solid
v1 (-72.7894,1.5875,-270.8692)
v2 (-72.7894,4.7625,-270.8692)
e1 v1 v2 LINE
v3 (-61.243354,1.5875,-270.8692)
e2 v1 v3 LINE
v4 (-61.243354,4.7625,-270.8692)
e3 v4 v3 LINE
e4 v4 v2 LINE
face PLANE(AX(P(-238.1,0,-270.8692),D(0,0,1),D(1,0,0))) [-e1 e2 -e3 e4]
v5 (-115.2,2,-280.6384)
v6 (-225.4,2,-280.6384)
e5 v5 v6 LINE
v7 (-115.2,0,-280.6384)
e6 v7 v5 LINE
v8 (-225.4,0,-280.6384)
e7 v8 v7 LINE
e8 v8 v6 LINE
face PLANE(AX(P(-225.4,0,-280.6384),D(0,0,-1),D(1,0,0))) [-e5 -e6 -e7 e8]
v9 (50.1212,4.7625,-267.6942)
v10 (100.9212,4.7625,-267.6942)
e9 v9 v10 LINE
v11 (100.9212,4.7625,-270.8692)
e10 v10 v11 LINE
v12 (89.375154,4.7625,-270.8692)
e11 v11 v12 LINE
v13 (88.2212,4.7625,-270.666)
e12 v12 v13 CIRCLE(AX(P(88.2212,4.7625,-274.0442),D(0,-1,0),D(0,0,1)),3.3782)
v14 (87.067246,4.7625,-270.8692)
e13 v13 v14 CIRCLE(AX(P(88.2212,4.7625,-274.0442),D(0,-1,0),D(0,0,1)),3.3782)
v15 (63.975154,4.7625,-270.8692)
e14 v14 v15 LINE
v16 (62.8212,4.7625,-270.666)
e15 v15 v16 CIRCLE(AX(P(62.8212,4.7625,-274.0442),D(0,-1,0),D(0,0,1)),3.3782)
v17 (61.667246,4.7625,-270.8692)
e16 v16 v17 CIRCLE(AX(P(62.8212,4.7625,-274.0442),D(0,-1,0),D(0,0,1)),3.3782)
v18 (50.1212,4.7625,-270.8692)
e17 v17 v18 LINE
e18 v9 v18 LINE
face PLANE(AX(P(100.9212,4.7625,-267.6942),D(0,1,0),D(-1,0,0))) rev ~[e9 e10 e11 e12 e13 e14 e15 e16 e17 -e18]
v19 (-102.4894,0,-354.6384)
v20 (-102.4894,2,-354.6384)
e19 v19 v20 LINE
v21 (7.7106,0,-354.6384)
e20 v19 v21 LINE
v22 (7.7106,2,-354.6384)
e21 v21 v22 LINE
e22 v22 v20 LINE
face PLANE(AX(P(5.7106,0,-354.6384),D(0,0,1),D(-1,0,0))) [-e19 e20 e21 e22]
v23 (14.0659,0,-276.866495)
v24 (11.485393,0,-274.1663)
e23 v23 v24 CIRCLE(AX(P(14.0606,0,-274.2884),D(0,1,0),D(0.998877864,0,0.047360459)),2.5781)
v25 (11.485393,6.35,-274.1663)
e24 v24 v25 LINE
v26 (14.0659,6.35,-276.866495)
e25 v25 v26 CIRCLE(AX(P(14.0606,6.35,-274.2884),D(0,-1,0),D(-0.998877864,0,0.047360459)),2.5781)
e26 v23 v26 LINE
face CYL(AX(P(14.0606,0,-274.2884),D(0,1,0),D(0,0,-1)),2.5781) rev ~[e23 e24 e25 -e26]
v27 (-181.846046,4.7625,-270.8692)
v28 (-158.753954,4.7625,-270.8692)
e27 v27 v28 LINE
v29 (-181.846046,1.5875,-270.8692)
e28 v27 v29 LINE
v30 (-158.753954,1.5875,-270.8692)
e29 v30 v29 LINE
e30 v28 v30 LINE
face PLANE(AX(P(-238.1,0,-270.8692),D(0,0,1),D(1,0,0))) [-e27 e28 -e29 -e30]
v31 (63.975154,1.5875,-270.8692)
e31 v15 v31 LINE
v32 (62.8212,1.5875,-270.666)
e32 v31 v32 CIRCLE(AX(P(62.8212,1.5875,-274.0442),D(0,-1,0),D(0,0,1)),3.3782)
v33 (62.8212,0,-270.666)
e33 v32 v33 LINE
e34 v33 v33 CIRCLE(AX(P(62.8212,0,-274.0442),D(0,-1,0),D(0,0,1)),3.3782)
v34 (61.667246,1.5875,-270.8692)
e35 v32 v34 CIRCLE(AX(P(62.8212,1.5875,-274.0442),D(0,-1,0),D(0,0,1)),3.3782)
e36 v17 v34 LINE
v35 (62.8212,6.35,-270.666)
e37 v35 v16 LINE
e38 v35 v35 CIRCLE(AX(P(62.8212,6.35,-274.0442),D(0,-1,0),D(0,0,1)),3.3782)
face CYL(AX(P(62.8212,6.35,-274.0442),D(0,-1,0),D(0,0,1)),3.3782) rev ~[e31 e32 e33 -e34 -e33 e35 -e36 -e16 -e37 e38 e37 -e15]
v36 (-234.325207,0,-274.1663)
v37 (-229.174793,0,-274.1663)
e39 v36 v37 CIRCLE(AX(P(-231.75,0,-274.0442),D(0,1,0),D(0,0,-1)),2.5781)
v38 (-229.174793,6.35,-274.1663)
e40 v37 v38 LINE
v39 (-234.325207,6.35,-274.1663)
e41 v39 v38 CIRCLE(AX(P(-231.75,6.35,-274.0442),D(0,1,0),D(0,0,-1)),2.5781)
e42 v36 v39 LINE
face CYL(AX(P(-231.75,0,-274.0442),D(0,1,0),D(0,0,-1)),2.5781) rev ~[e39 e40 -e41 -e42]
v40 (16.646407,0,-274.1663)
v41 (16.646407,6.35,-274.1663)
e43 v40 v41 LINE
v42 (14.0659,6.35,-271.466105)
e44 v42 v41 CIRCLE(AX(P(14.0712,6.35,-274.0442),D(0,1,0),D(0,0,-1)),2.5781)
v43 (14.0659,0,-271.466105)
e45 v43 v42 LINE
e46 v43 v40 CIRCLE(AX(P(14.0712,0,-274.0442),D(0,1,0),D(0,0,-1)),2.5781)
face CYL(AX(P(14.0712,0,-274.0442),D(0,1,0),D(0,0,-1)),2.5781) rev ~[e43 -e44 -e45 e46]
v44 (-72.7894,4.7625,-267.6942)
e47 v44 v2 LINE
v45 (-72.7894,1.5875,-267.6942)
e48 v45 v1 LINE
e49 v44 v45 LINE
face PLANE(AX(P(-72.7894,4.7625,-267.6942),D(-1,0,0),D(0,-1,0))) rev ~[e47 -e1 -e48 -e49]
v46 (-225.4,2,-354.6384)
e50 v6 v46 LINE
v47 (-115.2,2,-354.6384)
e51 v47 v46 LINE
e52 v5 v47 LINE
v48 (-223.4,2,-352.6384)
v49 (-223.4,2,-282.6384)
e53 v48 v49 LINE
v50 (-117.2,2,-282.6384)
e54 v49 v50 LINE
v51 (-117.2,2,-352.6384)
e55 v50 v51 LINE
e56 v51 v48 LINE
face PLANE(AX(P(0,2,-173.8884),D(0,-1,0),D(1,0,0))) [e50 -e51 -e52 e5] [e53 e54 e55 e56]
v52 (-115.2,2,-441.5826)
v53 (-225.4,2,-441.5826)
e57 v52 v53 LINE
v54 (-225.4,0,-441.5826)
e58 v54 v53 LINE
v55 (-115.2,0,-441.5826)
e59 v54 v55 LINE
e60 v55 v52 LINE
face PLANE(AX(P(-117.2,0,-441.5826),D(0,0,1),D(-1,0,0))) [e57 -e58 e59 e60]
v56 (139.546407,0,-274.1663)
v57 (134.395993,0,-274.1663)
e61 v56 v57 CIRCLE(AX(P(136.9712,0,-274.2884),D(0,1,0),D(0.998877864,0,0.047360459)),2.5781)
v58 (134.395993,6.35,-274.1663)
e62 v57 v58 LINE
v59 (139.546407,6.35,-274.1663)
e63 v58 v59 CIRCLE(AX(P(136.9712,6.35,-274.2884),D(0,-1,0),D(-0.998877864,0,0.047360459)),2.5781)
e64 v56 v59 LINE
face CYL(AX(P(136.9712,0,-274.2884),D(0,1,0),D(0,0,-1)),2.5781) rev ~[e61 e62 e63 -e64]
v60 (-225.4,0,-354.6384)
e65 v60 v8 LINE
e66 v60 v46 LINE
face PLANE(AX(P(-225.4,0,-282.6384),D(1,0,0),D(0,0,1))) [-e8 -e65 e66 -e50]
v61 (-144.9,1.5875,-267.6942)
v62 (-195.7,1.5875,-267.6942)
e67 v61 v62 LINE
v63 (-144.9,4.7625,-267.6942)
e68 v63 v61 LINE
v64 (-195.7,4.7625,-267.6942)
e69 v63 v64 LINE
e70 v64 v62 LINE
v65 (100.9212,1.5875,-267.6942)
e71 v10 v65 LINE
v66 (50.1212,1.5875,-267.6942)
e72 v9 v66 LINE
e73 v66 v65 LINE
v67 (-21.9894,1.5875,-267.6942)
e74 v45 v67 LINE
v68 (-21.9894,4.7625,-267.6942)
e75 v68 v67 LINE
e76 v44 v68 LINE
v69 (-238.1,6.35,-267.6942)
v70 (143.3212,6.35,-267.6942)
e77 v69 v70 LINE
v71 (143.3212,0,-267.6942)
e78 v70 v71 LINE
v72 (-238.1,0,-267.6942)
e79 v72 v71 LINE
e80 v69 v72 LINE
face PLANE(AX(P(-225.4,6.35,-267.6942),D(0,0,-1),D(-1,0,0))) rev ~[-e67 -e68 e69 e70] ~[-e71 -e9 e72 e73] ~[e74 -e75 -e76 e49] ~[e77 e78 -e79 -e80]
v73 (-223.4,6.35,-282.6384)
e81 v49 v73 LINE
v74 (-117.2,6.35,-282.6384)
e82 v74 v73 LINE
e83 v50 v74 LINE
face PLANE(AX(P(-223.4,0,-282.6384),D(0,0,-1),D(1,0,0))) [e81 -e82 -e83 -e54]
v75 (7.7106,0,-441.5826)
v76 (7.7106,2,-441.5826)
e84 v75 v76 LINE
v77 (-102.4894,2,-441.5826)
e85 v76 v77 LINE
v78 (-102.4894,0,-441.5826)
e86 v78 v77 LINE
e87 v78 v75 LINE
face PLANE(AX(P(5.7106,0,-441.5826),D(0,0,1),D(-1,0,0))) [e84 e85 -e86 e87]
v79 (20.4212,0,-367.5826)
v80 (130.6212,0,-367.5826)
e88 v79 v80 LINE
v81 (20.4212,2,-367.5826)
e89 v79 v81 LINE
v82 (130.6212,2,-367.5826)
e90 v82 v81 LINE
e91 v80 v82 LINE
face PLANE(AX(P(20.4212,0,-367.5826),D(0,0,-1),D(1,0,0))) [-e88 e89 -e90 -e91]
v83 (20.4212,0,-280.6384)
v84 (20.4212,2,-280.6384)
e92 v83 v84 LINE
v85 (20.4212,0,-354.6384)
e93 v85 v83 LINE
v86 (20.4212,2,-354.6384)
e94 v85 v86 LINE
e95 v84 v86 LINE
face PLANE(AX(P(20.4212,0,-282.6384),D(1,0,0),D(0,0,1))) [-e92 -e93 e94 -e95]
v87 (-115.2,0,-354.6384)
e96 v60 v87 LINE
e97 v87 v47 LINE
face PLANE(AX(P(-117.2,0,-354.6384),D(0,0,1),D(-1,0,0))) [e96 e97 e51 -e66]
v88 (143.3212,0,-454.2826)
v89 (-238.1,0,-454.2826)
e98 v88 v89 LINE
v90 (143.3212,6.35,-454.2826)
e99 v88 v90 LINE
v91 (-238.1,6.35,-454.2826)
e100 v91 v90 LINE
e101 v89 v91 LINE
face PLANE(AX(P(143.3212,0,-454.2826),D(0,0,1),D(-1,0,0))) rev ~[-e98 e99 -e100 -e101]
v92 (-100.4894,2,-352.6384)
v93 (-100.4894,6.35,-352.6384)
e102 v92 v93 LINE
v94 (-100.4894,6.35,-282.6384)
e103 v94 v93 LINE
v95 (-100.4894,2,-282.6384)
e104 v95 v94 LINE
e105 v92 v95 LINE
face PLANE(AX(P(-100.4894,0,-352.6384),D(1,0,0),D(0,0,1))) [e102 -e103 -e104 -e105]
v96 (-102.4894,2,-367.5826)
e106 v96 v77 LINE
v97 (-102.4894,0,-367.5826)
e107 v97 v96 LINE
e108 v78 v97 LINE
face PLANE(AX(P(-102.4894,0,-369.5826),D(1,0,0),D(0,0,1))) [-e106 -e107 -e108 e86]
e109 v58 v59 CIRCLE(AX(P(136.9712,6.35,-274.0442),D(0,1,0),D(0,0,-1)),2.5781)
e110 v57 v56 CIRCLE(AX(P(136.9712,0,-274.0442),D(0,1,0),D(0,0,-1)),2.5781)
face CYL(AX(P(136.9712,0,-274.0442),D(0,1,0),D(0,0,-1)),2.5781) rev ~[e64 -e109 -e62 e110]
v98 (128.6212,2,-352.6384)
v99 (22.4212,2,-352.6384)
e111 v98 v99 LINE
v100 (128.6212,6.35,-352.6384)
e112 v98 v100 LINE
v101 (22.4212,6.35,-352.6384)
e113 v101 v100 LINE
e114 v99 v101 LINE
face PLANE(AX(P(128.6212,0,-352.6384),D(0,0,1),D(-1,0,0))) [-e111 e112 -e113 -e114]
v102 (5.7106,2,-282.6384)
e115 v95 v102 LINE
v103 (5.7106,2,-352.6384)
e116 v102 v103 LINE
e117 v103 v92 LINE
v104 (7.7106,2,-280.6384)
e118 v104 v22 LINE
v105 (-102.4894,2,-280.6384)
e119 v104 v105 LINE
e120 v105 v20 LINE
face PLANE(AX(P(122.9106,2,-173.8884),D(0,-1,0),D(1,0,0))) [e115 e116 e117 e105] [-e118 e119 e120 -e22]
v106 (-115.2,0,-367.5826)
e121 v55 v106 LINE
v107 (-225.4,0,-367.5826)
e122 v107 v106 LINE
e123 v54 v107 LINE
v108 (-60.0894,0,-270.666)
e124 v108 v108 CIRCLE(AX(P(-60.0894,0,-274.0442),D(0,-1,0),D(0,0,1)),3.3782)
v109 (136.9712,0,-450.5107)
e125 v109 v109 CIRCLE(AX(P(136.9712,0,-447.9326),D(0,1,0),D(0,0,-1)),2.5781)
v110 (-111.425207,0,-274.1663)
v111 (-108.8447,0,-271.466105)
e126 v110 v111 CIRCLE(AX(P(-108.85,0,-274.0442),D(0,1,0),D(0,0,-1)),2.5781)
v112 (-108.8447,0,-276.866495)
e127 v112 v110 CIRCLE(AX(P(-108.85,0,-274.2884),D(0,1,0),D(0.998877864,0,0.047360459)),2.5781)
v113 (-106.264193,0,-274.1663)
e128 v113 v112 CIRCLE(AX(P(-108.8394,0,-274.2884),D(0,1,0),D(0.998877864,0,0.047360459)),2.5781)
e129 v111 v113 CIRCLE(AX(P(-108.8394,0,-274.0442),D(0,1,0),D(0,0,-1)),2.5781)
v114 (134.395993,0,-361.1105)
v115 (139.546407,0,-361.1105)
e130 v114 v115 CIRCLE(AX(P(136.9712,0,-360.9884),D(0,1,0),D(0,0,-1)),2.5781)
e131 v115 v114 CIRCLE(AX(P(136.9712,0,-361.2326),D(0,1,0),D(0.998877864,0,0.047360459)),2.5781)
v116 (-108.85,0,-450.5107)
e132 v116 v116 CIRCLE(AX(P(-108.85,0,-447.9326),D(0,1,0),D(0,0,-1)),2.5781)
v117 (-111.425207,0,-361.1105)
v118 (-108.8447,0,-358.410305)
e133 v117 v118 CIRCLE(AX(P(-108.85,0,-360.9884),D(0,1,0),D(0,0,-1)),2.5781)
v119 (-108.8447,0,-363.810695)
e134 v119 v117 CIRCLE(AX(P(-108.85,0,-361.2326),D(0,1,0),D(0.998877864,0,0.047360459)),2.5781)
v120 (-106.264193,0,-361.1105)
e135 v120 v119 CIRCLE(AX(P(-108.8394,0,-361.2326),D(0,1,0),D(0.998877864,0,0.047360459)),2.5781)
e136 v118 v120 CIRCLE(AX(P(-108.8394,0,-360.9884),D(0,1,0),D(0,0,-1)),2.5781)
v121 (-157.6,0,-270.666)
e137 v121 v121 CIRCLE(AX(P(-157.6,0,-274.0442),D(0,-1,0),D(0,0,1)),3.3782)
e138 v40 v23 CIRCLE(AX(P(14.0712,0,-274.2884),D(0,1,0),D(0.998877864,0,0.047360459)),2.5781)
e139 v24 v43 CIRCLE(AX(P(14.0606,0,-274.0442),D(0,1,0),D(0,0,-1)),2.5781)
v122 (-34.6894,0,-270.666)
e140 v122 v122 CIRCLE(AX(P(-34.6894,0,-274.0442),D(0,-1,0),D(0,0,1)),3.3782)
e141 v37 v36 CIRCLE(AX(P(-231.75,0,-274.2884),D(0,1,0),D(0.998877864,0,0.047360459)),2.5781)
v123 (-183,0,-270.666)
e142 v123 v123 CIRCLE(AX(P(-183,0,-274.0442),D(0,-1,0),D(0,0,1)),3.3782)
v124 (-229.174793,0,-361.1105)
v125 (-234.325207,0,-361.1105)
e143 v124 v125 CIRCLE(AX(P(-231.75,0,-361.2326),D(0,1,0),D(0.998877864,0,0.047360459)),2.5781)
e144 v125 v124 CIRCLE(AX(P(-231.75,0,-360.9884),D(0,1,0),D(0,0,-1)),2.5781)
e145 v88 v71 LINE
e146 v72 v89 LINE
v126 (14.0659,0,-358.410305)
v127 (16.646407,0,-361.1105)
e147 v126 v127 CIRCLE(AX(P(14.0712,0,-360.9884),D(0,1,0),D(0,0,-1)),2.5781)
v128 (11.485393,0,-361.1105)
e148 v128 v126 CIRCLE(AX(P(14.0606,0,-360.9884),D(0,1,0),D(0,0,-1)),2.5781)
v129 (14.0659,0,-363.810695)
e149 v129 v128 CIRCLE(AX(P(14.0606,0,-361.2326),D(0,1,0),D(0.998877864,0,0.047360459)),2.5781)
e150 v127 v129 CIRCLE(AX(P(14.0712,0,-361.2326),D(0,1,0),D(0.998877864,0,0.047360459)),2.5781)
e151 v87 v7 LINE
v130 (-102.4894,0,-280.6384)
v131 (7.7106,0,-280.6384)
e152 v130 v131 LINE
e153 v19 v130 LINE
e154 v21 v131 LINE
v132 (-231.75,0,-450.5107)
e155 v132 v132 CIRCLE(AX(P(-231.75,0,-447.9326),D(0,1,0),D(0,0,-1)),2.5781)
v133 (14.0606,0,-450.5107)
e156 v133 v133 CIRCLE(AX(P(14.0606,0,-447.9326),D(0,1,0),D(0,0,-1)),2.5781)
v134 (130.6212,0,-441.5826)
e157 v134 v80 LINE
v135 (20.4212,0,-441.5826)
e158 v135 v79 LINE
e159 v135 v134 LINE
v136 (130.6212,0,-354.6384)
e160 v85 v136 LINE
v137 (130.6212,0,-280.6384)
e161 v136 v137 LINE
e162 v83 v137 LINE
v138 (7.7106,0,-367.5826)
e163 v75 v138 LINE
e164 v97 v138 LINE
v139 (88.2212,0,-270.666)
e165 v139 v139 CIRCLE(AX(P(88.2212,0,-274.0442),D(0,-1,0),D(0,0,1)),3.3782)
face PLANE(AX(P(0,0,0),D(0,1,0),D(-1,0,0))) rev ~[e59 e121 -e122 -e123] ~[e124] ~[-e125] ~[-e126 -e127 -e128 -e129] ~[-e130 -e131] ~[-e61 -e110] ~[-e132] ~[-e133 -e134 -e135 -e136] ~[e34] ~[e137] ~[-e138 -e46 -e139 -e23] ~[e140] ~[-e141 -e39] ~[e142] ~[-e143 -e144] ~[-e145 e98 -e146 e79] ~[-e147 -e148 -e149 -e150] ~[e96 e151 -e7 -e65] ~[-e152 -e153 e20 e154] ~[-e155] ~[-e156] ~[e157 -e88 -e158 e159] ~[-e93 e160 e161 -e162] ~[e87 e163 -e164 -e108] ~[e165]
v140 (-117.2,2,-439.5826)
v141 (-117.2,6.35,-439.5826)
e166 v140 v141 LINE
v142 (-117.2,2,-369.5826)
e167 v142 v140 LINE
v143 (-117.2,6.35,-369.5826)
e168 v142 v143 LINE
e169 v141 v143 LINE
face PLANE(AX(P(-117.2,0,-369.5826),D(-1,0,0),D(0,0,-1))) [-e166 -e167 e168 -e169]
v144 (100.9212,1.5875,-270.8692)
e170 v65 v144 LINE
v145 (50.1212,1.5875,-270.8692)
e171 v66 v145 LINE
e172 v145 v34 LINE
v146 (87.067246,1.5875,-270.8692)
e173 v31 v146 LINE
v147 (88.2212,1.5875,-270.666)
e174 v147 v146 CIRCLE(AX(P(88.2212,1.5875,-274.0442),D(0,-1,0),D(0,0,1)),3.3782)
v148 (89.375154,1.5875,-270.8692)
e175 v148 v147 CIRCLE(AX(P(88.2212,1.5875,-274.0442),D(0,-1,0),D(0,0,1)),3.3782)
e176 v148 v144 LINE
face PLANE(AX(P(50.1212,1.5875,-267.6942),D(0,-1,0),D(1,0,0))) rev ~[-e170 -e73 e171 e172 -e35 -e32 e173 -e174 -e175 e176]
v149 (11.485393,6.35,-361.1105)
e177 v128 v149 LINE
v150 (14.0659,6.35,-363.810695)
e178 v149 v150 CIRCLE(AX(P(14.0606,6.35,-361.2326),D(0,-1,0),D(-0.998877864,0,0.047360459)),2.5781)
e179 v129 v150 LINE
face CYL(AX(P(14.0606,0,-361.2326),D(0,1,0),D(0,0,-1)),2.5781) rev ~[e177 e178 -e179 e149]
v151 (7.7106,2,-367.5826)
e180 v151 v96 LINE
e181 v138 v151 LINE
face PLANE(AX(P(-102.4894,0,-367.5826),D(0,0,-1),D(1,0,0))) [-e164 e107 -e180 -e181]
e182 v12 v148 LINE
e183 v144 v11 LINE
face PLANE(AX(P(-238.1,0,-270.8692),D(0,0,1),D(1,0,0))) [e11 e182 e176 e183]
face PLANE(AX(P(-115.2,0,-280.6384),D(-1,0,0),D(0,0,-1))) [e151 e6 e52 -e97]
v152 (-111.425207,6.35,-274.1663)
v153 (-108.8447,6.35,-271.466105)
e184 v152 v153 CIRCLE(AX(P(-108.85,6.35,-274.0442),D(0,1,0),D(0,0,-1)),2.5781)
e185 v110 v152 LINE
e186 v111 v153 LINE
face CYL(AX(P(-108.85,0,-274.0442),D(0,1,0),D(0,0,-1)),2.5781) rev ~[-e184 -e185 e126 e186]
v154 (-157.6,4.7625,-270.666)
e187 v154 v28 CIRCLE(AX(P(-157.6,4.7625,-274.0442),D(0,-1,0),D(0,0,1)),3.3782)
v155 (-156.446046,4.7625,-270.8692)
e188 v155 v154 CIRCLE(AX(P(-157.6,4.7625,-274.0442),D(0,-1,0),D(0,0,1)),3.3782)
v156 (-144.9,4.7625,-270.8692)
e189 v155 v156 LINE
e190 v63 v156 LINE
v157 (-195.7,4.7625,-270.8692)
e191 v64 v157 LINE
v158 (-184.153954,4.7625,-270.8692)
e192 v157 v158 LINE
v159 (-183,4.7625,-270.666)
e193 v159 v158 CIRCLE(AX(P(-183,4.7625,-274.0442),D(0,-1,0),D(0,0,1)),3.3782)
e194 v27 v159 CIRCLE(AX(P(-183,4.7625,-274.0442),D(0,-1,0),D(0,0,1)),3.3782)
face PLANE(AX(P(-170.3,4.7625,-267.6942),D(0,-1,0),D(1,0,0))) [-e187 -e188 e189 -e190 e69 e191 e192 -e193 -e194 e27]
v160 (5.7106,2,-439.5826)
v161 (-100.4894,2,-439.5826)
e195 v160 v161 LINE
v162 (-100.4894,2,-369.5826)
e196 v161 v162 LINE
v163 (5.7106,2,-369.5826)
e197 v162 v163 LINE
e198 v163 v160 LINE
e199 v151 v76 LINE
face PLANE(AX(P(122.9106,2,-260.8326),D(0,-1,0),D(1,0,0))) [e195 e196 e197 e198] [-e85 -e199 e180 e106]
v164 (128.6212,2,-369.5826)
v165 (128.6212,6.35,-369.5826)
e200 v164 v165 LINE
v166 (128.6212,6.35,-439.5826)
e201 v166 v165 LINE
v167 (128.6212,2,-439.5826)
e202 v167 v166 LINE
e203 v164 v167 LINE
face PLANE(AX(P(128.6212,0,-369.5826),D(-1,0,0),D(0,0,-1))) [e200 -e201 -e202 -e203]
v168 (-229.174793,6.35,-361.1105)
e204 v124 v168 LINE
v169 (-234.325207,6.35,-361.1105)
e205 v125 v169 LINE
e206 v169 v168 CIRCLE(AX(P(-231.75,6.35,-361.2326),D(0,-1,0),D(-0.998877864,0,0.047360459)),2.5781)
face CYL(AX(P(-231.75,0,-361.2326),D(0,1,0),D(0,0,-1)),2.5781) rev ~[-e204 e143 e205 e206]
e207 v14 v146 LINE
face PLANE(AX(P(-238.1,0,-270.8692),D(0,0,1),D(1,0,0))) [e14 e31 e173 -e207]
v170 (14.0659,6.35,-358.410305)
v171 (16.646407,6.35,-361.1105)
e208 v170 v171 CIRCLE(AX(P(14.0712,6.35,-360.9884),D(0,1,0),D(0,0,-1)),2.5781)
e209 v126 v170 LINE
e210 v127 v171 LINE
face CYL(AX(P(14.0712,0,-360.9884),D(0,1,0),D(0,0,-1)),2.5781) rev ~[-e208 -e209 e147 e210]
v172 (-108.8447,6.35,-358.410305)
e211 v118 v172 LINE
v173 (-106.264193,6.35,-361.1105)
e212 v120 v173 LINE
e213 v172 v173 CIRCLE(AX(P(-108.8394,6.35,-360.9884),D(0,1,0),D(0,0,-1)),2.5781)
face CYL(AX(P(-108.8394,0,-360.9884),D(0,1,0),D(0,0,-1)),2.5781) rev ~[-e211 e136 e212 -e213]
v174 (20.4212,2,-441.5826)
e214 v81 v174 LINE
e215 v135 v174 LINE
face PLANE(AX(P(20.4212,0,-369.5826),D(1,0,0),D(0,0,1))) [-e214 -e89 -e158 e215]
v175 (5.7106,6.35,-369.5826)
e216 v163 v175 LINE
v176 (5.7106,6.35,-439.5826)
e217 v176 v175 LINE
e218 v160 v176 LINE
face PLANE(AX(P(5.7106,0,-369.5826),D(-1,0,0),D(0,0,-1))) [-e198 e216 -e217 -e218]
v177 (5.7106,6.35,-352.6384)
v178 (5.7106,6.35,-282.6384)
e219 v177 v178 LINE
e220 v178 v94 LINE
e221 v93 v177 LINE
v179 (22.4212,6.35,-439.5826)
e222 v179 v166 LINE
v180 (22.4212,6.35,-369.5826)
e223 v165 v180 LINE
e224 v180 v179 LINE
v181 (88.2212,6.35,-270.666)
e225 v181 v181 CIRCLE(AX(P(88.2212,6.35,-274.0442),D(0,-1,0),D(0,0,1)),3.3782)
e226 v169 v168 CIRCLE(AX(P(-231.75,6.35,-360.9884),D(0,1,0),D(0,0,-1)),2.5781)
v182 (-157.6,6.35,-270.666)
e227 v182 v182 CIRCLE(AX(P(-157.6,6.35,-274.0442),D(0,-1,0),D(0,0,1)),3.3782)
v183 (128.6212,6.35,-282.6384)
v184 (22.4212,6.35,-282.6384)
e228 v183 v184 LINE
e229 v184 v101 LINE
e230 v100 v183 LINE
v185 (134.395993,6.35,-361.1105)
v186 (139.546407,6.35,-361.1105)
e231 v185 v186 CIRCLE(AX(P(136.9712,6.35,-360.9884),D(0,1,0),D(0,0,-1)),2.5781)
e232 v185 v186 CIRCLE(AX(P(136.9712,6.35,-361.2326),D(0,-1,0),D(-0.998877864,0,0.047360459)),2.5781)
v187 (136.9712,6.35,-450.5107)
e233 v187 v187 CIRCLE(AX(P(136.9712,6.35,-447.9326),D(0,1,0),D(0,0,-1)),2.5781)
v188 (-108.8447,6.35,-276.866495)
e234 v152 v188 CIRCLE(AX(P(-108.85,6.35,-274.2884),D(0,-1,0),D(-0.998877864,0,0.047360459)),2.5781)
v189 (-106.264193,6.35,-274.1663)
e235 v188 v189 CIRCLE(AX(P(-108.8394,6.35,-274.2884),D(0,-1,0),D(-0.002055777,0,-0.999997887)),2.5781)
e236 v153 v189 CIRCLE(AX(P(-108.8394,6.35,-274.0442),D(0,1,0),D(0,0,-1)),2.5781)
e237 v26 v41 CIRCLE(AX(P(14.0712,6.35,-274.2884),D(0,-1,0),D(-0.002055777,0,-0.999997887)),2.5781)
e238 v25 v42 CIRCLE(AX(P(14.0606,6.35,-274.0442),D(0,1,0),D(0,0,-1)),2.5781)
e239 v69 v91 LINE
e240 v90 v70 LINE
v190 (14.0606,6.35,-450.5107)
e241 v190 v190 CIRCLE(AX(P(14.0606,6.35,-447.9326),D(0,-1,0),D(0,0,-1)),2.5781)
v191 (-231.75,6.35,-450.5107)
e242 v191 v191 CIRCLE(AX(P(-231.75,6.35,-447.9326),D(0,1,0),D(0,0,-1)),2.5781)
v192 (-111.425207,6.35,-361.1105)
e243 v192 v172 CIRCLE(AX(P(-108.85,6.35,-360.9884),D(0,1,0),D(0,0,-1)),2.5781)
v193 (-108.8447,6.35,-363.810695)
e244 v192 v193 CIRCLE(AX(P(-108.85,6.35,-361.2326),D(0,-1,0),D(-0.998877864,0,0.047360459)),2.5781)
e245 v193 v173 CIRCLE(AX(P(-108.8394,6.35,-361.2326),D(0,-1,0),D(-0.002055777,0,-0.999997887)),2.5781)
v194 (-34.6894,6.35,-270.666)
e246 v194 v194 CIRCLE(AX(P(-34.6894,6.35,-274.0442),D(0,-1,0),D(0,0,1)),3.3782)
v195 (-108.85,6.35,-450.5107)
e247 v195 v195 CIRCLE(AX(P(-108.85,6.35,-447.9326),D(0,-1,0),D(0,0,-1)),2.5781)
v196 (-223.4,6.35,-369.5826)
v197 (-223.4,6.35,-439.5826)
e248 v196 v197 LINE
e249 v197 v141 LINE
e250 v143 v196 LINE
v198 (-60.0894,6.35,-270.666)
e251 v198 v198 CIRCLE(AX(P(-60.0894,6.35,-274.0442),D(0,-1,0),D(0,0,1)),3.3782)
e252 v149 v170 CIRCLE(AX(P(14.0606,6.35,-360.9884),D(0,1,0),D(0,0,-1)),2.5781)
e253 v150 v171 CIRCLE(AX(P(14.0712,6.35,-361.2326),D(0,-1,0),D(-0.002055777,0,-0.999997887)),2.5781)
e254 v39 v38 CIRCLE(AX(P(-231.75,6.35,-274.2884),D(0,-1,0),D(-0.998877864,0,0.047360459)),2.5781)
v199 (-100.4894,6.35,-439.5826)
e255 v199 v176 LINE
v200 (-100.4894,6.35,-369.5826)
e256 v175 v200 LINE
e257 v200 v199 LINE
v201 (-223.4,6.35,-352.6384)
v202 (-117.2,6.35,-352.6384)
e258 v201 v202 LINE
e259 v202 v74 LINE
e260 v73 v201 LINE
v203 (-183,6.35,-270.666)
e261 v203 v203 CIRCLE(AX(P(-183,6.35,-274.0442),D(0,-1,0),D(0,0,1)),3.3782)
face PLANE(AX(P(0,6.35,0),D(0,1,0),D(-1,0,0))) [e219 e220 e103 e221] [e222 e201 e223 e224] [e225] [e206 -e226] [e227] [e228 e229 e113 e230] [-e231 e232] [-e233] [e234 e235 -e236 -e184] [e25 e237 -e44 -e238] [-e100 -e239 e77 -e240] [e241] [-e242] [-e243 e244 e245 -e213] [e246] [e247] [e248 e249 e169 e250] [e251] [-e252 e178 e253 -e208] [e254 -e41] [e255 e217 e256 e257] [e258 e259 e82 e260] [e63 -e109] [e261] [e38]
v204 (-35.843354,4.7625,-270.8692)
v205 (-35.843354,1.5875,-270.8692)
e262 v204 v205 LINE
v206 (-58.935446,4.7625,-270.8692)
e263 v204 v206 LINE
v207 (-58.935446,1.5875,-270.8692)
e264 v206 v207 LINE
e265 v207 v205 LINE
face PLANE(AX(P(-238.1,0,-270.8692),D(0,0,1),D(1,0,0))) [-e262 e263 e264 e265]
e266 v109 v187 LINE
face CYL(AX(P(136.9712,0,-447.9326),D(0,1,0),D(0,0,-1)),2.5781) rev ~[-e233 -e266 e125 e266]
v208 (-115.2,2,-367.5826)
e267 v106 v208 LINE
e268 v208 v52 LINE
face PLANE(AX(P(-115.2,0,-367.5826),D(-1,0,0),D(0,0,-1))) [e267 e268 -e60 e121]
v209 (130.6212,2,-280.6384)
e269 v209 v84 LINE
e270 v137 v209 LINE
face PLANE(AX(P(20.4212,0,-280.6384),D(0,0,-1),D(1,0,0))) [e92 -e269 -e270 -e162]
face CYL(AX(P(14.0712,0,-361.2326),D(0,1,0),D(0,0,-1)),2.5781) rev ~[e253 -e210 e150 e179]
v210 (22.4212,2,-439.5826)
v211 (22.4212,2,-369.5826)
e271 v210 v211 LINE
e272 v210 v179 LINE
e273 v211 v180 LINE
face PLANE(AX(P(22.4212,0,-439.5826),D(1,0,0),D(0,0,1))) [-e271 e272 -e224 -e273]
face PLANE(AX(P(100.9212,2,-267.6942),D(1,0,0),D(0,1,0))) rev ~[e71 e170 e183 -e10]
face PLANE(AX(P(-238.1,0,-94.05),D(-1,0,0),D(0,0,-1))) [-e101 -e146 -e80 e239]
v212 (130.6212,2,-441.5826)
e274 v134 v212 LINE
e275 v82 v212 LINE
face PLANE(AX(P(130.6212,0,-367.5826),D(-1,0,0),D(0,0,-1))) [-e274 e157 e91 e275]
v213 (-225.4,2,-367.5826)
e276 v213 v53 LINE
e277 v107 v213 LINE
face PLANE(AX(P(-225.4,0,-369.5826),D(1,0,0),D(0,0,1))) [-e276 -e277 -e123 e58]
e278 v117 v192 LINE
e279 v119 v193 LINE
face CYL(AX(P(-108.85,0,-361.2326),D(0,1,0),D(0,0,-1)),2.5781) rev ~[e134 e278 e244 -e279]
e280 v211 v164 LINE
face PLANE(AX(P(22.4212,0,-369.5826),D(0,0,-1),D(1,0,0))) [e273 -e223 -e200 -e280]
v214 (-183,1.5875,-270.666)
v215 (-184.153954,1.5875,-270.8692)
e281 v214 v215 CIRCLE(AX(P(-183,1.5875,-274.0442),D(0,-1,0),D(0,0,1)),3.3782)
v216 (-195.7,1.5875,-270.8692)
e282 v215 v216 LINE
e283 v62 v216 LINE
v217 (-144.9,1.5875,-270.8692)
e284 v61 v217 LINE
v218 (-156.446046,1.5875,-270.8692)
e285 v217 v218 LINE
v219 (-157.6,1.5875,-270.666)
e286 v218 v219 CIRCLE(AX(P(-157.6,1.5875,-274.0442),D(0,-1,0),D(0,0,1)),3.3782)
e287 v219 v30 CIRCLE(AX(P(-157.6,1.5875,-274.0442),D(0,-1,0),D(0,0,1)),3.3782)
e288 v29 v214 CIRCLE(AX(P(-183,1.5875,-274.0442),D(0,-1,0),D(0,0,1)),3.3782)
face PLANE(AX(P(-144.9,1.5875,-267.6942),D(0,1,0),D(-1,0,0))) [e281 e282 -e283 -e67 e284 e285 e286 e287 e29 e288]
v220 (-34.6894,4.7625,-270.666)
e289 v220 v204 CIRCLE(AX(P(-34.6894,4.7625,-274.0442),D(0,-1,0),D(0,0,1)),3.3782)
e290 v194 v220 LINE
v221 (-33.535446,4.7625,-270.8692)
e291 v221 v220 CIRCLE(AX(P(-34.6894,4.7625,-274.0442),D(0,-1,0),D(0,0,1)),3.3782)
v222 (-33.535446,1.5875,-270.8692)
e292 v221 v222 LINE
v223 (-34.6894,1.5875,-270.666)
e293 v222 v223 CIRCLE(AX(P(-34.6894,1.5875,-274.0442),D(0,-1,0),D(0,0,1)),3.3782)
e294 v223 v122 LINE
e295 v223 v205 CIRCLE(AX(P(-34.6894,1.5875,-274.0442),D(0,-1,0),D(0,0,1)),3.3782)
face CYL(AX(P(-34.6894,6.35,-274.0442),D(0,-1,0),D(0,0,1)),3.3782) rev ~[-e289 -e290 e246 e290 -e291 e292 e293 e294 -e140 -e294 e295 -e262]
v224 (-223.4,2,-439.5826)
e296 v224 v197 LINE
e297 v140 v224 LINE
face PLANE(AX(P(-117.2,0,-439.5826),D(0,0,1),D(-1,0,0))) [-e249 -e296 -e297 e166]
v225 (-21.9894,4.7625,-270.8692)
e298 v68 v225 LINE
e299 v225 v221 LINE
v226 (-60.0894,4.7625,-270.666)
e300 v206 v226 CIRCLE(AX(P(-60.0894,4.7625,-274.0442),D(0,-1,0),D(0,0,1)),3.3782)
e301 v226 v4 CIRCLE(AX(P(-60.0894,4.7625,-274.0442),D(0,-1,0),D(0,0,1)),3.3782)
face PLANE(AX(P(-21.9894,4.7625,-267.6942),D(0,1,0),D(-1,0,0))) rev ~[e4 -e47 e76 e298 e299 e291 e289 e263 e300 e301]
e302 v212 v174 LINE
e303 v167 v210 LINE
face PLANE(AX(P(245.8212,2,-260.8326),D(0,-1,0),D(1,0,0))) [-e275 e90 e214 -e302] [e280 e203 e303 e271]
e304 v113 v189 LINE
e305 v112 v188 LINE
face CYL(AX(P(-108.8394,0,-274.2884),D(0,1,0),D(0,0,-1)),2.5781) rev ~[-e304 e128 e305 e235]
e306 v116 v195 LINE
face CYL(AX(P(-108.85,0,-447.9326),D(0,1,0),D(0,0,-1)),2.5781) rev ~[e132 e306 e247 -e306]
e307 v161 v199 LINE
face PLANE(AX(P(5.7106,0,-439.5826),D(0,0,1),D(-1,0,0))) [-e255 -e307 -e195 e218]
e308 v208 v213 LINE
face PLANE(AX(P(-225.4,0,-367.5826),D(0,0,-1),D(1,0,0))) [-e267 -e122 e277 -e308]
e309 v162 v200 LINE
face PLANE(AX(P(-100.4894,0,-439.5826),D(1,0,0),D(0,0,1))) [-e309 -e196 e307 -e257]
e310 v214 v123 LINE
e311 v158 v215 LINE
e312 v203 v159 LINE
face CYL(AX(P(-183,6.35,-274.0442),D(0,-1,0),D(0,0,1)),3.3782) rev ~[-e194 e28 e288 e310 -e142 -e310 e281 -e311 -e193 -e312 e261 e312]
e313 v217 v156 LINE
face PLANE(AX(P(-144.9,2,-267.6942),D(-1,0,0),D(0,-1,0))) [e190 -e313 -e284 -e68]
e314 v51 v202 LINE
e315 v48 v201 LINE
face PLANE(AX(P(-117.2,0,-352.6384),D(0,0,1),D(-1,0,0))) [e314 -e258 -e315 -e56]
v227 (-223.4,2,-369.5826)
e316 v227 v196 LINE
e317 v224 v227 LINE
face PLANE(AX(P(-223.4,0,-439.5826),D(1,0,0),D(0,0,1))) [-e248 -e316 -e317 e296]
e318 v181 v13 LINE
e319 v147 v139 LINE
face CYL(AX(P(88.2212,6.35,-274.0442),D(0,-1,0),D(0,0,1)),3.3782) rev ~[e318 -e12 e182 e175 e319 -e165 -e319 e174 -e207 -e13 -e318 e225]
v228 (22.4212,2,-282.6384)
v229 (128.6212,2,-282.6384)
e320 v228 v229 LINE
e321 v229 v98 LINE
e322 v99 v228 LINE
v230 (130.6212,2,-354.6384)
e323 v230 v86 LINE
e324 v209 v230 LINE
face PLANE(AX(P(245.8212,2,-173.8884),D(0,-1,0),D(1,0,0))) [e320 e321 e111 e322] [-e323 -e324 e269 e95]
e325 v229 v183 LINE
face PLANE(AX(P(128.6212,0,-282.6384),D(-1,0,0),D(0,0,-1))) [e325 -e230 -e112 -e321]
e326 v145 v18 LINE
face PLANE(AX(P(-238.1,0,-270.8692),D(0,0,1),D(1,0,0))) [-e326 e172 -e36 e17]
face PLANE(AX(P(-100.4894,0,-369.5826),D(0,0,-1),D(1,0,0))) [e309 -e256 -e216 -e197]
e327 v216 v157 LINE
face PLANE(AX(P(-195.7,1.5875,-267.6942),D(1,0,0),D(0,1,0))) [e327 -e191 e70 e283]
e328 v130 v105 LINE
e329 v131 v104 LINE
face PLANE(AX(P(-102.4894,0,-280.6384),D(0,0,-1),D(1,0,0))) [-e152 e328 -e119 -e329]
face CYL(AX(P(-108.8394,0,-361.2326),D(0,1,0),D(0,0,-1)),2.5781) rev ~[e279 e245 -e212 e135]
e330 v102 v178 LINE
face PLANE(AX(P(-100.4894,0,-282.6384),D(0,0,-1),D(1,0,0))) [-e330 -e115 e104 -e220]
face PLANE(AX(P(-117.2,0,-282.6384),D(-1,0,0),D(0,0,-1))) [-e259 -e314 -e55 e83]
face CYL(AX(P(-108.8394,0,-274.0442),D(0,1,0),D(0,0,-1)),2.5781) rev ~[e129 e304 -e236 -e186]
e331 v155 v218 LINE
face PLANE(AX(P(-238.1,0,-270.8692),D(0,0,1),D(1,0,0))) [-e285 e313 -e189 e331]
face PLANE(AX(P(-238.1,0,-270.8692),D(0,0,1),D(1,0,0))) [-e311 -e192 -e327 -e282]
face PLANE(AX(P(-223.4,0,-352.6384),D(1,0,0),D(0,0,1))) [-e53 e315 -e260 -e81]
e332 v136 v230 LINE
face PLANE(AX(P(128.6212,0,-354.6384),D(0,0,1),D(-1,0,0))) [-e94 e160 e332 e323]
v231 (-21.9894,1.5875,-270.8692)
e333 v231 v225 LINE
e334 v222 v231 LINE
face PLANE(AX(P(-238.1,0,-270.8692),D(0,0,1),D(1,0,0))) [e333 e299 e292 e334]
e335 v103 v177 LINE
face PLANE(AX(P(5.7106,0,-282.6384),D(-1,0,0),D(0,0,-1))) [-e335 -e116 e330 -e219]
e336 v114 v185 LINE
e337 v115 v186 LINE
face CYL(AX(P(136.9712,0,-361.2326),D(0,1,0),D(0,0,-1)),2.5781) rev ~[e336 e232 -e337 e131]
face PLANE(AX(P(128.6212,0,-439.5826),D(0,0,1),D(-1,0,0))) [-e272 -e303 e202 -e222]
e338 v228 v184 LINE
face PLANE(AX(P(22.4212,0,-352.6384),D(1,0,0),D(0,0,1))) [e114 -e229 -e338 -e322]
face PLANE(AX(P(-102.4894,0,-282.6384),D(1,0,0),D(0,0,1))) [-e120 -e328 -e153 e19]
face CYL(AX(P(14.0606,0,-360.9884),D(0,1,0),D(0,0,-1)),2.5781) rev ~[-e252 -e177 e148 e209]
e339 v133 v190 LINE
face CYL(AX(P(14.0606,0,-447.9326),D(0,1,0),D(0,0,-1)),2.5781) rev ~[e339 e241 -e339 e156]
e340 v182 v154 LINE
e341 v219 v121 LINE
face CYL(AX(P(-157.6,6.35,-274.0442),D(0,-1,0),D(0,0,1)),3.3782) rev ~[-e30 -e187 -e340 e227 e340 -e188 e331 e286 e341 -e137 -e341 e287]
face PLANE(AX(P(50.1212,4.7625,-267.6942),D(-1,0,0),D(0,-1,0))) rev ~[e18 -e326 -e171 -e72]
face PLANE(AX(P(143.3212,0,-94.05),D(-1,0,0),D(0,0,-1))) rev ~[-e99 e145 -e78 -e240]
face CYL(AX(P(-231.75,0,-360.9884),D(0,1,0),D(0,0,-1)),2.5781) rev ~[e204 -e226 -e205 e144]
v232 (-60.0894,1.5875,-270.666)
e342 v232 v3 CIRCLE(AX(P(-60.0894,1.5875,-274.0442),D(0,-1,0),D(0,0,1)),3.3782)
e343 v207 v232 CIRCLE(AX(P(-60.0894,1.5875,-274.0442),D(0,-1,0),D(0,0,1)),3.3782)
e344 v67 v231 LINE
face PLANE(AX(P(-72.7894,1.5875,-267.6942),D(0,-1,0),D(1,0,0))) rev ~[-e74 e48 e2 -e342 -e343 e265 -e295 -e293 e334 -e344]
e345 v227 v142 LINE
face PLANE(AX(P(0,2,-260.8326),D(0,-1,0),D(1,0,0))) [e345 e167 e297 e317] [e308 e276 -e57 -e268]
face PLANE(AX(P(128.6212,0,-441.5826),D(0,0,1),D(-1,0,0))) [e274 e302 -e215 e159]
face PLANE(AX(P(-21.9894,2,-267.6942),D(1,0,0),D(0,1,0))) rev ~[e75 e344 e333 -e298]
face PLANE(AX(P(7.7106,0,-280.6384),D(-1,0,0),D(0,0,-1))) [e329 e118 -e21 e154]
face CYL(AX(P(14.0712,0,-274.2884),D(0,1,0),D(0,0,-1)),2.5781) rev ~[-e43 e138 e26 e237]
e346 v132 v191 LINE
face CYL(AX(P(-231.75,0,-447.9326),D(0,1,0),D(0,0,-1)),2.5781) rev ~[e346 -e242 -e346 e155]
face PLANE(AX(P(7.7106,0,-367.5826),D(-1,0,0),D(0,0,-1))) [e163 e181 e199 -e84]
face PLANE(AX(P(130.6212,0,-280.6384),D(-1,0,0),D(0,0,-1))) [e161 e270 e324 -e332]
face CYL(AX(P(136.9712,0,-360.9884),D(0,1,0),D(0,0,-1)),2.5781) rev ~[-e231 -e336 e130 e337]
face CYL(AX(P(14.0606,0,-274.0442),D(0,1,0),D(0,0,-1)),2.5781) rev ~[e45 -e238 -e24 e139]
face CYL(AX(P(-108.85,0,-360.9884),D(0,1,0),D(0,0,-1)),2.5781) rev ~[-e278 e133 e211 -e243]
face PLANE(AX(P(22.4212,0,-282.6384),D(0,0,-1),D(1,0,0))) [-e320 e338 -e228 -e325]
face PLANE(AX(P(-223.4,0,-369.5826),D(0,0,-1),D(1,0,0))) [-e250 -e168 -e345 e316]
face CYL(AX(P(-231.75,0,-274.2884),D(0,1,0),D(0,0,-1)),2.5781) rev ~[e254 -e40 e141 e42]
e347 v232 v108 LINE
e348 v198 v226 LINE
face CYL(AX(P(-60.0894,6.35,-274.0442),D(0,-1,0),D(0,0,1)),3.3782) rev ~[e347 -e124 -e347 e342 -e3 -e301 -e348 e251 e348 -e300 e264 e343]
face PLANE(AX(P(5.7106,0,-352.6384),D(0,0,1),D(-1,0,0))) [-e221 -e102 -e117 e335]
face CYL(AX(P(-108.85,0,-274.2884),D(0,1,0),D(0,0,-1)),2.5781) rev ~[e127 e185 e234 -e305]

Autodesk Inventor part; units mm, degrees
ref_plane "YZ Plane" through (0, 0, 0) normal (1, 0, 0) x (0, 1, 0)
ref_plane "XZ Plane" through (0, 0, 0) normal (0, 1, 0) x (-1, 0, 0)
ref_plane "XY Plane" through (0, 0, 0) normal (0, 0, 1) x (1, 0, 0)
sketch "Sketch1" plane through (0, 0, 0) normal (0, 1, 0) x (-1, 0, 0)
  line L0 (0, 0) -> (76.2, 0)
  line L1 (76.2, 0) -> (76.2, -50.8)
  line L2 (76.2, -50.8) -> (0, -50.8)
  line L3 (0, -50.8) -> (0, 0)
  line L4 (38.1, 0) -> (38.1, -6.35)
  line L5 (38.1, -6.35) -> (12.7, -6.35)
  line L6 (38.1, -6.35) -> (63.5, -6.35)
  line L7 (38.1, -6.35) -> (63.5, -6.35) construction
  line L8 (63.5, -6.35) -> (63.5, -19.05)
  line L9 (12.7, -6.35) -> (12.7, -19.05)
  line L10 (63.5, -19.05) -> (63.5, -25.4)
  line L11 (12.7, -19.05) -> (12.7, -25.4)
  line L12 (63.5, -19.05) -> (63.5, -94.05)
  line L13 (63.5, -19.05) -> (138.5, -19.05) construction
  line L14 (12.7, -19.05) -> (12.7, -94.05)
  line L15 (63.5, -94.05) -> (38.1, -94.05)
  line L16 (38.1, -94.05) -> (38.1, -294.05)
  line L17 (38.1, -94.05) -> (238.1, -94.05) construction
  line L18 (238.1, -494.05) -> (-161.9, -494.05)
  line L19 (-161.9, -494.05) -> (-161.9, -94.05)
  line L20 (-161.9, -94.05) -> (238.1, -94.05)
  line L21 (238.1, -94.05) -> (238.1, -494.05)
  line L22 (238.1, -494.05) -> (-161.9, -94.05) construction
  line L23 (-161.9, -494.05) -> (238.1, -94.05) construction
  point P0 (63.5, -50.8)
  point P1 (12.7, -50.8)
  dimension "d0" = 76.2
  dimension "d1" = 50.8
  dimension "d2" = 6.35
  dimension "d3" = 25.4
  dimension "d4" = 25.4
  dimension "d5" = 0
  dimension "d6" = 12.7
  dimension "d7" = 12.7
  dimension "d8" = 6.35
  dimension "d9" = 6.35
  dimension "d10" = 75
  dimension "d11" = 90
  dimension "d12" = 75
  dimension "d13" = 25.4
  dimension "d14" = 200
  dimension "d15" = 90
  dimension "d16" = 400
  dimension "d17" = 400
extrude "Extrusion1" add sketch "Sketch1" along normal blind 6.35
hole "Hole1" at (-12.7, 0, -6.35) at (-12.7, 0, -19.05) at (-63.5, 0, -6.35) at (-63.5, 0, -19.05) direction (0, 1, 0) diameter 6.604 end through all
sketch "Sketch2" plane through (0, 0, 0) normal (0, -1, 0) x (1, 0, 0)
  line L0 (-238.1, -94.05) -> (-63.5, -94.05) projected
  line L1 (-238.1, -94.05) -> (-238.1, -100.4)
  line L2 (-238.1, -94.05) -> (-231.75, -94.05) construction
  line L3 (-238.1, -100.4) -> (-231.75, -100.4)
  line L4 (-231.75, -100.4) -> (-225.4, -100.4)
  line L5 (-225.4, -100.4) -> (-225.4, -106.75)
  line L6 (-225.4, -106.75) -> (-115.2, -106.75)
  line L7 (-115.2, -106.75) -> (-115.2, -180.75)
  line L8 (-115.2, -180.75) -> (-225.4, -180.75)
  line L9 (-225.4, -180.75) -> (-225.4, -106.75)
  line L10 (-115.2, -106.75) -> (-115.2, -100.4)
  line L11 (-115.2, -100.4) -> (-108.85, -100.4)
  line L12 (-225.4, -180.75) -> (-231.75, -180.75)
  line L13 (-231.75, -180.75) -> (-231.75, -187.1)
  line L14 (-115.2, -180.75) -> (-115.2, -187.1)
  line L15 (-115.2, -187.1) -> (-108.85, -187.1)
  line L16 (-225.4, -106.75) -> (-225.4, -114.75)
  line L17 (-225.4, -106.75) -> (-217.4, -106.75) construction
  line L18 (-225.4, -106.75) -> (-223.4, -106.75)
  line L19 (-223.4, -106.75) -> (-223.4, -108.75)
  line L20 (-223.4, -108.75) -> (-225.4, -108.75)
  line L21 (-225.4, -108.75) -> (-225.4, -106.75)
  line L22 (-115.2, -180.75) -> (-117.2, -180.75)
  line L23 (-117.2, -180.75) -> (-117.2, -178.75)
  line L24 (-117.2, -178.75) -> (-115.2, -178.75)
  line L25 (-115.2, -178.75) -> (-115.2, -180.75)
  line L26 (-223.4, -108.75) -> (-117.2, -108.75)
  line L27 (-117.2, -108.75) -> (-117.2, -178.75)
  line L28 (-117.2, -178.75) -> (-223.4, -178.75)
  line L29 (-223.4, -178.75) -> (-223.4, -108.75)
  point P0 (0, 0)
  dimension "d27" = 6.35
  dimension "d28" = 90
  dimension "d29" = 6.35
  dimension "d30" = 6.35
  dimension "d31" = 6.35
  dimension "d32" = 110.2
  dimension "d33" = 74
  dimension "d34" = 6.35
  dimension "d35" = 6.35
  dimension "d36" = 6.35
  dimension "d37" = 6.35
  dimension "d38" = 6.35
  dimension "d39" = 8
  dimension "d40" = 90
  dimension "d41" = 2
  dimension "d42" = 2
  dimension "d43" = 2
  dimension "d44" = 2
extrude "Extrusion2" cut sketch "Sketch2" against normal through all contours L26 L27 L28 L29
hole "Hole2" at (-231.75, 0, -100.4) at (-231.75, 0, -187.1) at (-108.85, 0, -100.4) at (-108.85, 0, -187.1) direction (0, 1, 0) diameter 5.1562 end through all
extrude "Extrusion3" cut sketch "Sketch2" against normal blind 2 contours L6 L19 L20 L9 | L6 L7 L24 L27 L26 L19 | L20 L29 L28 L23 L8 L9 | L7 L8 L23 L24
pattern_linear "Rectangular Pattern1" count 3 spacing 122.9106 along (1, 0, 0) count 4 spacing 86.9442 along (0, 0, -1) of "Extrusion2", "Hole2", "Extrusion3"
sketch "Sketch3" plane through (0, 0, 0) normal (0, -1, 0) x (1, 0, 0)
  circle A0 centre (136.9712, -447.9326) radius 2.5781 projected
  line L0 (136.9712, -447.9326) -> (143.3212, -447.9326)
  line L1 (143.3212, -447.9326) -> (143.3212, -454.2826)
  line L2 (143.3212, -454.2826) -> (136.9712, -454.2826)
  line L3 (136.9712, -454.2826) -> (136.9712, -447.9326)
  line L4 (-12.7, -94.05) -> (161.9, -94.05) projected
  line L5 (143.3212, -454.2826) -> (161.9, -454.2826)
  line L6 (161.9, -454.2826) -> (161.9, -94.05)
  line L7 (161.9, -94.05) -> (143.3212, -94.05)
  line L8 (143.3212, -94.05) -> (143.3212, -454.2826)
  line L9 (161.9, -454.2826) -> (-238.1, -454.2826)
  line L10 (-238.1, -454.2826) -> (-238.1, -500.3541)
  line L11 (-238.1, -500.3541) -> (161.9, -500.3541)
  line L12 (161.9, -500.3541) -> (161.9, -454.2826)
  point P0 (0, 0)
  dimension "d62" = 6.35
  dimension "d63" = 6.35
extrude "Extrusion4" cut sketch "Sketch3" against normal through all contours L8 L4 L6 L5 L1 | L2 L5 L12 L11 L10 L9
sketch "Sketch4" plane through (0, 6.35, 0) normal (0, 1, 0) x (1, 0, 0)
  line L0 (-238.1, 454.2826) -> (-238.1, 94.05) projected
  line L1 (143.3212, 94.05) -> (143.3212, 454.2826) projected
  line L2 (-238.1, 454.2826) -> (143.3212, 454.2826)
  line L3 (143.3212, 454.2826) -> (143.3212, 265.3699)
  line L4 (143.3212, 265.3699) -> (-238.1, 265.3699)
  line L5 (-238.1, 265.3699) -> (-238.1, 454.2826)
  line L6 (143.3212, 265.3699) -> (-238.1, 265.3699)
  line L7 (-238.1, 265.3699) -> (-238.1, 0)
  line L8 (-238.1, 0) -> (143.3212, 0)
  line L9 (143.3212, 0) -> (143.3212, 265.3699)
  line L10 (-223.1708, 265.3699) -> (-238.1, 265.3699)
  line L11 (-117.2, 265.6942) -> (-223.4, 265.6942) projected
  line L12 (-223.4, 265.6942) -> (-238.1, 265.6942)
  line L13 (-238.1, 265.6942) -> (143.3212, 265.6942)
  line L14 (143.3212, 265.6942) -> (143.3212, 0)
  line L15 (143.3212, 0) -> (-238.1, 0)
  line L16 (-238.1, 0) -> (-238.1, 265.6942)
  line L17 (-225.4, 267.6942) -> (-238.1, 267.6942)
  line L18 (-238.1, 454.2826) -> (-238.1, 94.05) projected
  line L19 (-238.1, 267.6942) -> (143.3212, 267.6942)
  line L20 (143.3212, 267.6942) -> (143.3212, 0)
  line L21 (143.3212, 0) -> (-238.1, 0)
  line L22 (-238.1, 0) -> (-238.1, 267.6942)
  point P0 (0, 0)
  point P1 (143.3212, 265.6942)
  point P2 (143.3212, 267.6942)
extrude "Extrusion5" cut sketch "Sketch4" against normal blind 25.4 contours L17 L19 L1 L13 L11 L12 L0 | L12 L11 L13 L1 L4 L0 | L4 L1 L9 L8 L7 L0
sketch "Sketch5" plane through (-238.1, 0, -267.6942) normal (0, 0, 1) x (1, 0, 0)
  line L0 (120.9, 2) -> (14.7, 2) projected
  line L1 (243.8106, 2) -> (137.6106, 2) projected
  line L2 (366.7212, 2) -> (260.5212, 2) projected
  line L3 (120.9, 6.35) -> (14.7, 6.35) projected
  line L4 (67.8, 6.35) -> (67.8, 3.175)
  line L5 (42.4, 4.7625) -> (93.2, 4.7625)
  line L6 (93.2, 4.7625) -> (93.2, 1.5875)
  line L7 (93.2, 1.5875) -> (42.4, 1.5875)
  line L8 (42.4, 1.5875) -> (42.4, 4.7625)
  line L9 (42.4, 4.7625) -> (93.2, 1.5875) construction
  line L10 (93.2, 4.7625) -> (42.4, 1.5875) construction
  line L11 (381.4212, 6.35) -> (0, 6.35) projected
  line L12 (190.7106, 6.35) -> (190.7106, 3.175)
  line L13 (165.3106, 1.5875) -> (216.1106, 1.5875)
  line L14 (216.1106, 1.5875) -> (216.1106, 4.7625)
  line L15 (216.1106, 4.7625) -> (165.3106, 4.7625)
  line L16 (165.3106, 4.7625) -> (165.3106, 1.5875)
  line L17 (165.3106, 1.5875) -> (216.1106, 4.7625) construction
  line L18 (216.1106, 1.5875) -> (165.3106, 4.7625) construction
  line L19 (260.5212, 6.35) -> (366.7212, 6.35) projected
  line L20 (313.6212, 6.35) -> (313.6212, 3.175)
  line L21 (288.2212, 1.5875) -> (339.0212, 1.5875)
  line L22 (339.0212, 1.5875) -> (339.0212, 4.7625)
  line L23 (339.0212, 4.7625) -> (288.2212, 4.7625)
  line L24 (288.2212, 4.7625) -> (288.2212, 1.5875)
  line L25 (288.2212, 1.5875) -> (339.0212, 4.7625) construction
  line L26 (339.0212, 1.5875) -> (288.2212, 4.7625) construction
  point P0 (238.1, 0)
  dimension "d68" = 3.175
  dimension "d69" = 50.8
  dimension "d70" = 3.175
  dimension "d71" = 50.8
  dimension "d72" = 3.175
  dimension "d73" = 3.175
  dimension "d74" = 50.8
extrude "Extrusion6" cut sketch "Sketch5" against normal blind 3.175
sketch "Sketch6" plane through (0, 6.35, 0) normal (0, 1, 0) x (1, 0, 0)
  line L0 (-195.7, 267.6942) -> (-144.9, 267.6942) projected
  line L1 (-72.7894, 267.6942) -> (-21.9894, 267.6942) projected
  line L2 (50.1212, 267.6942) -> (100.9212, 267.6942) projected
  line L3 (-170.3, 267.6942) -> (-170.3, 274.0442)
  line L4 (-170.3, 274.0442) -> (-157.6, 274.0442)
  line L5 (-157.6, 274.0442) -> (-183, 274.0442)
  line L6 (-238.1, 267.6942) -> (143.3212, 267.6942) projected
  line L7 (-47.3894, 267.6942) -> (-47.3894, 274.0442)
  line L8 (-47.3894, 274.0442) -> (-34.6894, 274.0442)
  line L9 (-34.6894, 274.0442) -> (-60.0894, 274.0442)
  line L10 (50.1212, 267.6942) -> (75.5212, 267.6942)
  line L11 (75.5212, 267.6942) -> (75.5212, 274.0442)
  line L12 (75.5212, 274.0442) -> (88.2212, 274.0442)
  line L13 (88.2212, 274.0442) -> (62.8212, 274.0442)
  point P0 (0, 0)
  dimension "d77" = 6.35
  dimension "d78" = 12.7
  dimension "d79" = 25.4
  dimension "d80" = 12.7
  dimension "d81" = 25.4
  dimension "d82" = 25.4
  dimension "d83" = 6.35
  dimension "d84" = 12.7
  dimension "d85" = 90
hole "Hole3" at (88.2212, 6.35, -274.0442) at (62.8212, 6.35, -274.0442) at (-34.6894, 6.35, -274.0442) at (-60.0894, 6.35, -274.0442) at (-183, 6.35, -274.0442) at (-157.6, 6.35, -274.0442) direction (0, -1, 0) diameter 6.7564 end through all clearance for "Socket Head Cap Screw" size "1/4" standard "Ansi Unified Screw Threads"
properties part number "WellPlateFrame - 3L - Part1"
